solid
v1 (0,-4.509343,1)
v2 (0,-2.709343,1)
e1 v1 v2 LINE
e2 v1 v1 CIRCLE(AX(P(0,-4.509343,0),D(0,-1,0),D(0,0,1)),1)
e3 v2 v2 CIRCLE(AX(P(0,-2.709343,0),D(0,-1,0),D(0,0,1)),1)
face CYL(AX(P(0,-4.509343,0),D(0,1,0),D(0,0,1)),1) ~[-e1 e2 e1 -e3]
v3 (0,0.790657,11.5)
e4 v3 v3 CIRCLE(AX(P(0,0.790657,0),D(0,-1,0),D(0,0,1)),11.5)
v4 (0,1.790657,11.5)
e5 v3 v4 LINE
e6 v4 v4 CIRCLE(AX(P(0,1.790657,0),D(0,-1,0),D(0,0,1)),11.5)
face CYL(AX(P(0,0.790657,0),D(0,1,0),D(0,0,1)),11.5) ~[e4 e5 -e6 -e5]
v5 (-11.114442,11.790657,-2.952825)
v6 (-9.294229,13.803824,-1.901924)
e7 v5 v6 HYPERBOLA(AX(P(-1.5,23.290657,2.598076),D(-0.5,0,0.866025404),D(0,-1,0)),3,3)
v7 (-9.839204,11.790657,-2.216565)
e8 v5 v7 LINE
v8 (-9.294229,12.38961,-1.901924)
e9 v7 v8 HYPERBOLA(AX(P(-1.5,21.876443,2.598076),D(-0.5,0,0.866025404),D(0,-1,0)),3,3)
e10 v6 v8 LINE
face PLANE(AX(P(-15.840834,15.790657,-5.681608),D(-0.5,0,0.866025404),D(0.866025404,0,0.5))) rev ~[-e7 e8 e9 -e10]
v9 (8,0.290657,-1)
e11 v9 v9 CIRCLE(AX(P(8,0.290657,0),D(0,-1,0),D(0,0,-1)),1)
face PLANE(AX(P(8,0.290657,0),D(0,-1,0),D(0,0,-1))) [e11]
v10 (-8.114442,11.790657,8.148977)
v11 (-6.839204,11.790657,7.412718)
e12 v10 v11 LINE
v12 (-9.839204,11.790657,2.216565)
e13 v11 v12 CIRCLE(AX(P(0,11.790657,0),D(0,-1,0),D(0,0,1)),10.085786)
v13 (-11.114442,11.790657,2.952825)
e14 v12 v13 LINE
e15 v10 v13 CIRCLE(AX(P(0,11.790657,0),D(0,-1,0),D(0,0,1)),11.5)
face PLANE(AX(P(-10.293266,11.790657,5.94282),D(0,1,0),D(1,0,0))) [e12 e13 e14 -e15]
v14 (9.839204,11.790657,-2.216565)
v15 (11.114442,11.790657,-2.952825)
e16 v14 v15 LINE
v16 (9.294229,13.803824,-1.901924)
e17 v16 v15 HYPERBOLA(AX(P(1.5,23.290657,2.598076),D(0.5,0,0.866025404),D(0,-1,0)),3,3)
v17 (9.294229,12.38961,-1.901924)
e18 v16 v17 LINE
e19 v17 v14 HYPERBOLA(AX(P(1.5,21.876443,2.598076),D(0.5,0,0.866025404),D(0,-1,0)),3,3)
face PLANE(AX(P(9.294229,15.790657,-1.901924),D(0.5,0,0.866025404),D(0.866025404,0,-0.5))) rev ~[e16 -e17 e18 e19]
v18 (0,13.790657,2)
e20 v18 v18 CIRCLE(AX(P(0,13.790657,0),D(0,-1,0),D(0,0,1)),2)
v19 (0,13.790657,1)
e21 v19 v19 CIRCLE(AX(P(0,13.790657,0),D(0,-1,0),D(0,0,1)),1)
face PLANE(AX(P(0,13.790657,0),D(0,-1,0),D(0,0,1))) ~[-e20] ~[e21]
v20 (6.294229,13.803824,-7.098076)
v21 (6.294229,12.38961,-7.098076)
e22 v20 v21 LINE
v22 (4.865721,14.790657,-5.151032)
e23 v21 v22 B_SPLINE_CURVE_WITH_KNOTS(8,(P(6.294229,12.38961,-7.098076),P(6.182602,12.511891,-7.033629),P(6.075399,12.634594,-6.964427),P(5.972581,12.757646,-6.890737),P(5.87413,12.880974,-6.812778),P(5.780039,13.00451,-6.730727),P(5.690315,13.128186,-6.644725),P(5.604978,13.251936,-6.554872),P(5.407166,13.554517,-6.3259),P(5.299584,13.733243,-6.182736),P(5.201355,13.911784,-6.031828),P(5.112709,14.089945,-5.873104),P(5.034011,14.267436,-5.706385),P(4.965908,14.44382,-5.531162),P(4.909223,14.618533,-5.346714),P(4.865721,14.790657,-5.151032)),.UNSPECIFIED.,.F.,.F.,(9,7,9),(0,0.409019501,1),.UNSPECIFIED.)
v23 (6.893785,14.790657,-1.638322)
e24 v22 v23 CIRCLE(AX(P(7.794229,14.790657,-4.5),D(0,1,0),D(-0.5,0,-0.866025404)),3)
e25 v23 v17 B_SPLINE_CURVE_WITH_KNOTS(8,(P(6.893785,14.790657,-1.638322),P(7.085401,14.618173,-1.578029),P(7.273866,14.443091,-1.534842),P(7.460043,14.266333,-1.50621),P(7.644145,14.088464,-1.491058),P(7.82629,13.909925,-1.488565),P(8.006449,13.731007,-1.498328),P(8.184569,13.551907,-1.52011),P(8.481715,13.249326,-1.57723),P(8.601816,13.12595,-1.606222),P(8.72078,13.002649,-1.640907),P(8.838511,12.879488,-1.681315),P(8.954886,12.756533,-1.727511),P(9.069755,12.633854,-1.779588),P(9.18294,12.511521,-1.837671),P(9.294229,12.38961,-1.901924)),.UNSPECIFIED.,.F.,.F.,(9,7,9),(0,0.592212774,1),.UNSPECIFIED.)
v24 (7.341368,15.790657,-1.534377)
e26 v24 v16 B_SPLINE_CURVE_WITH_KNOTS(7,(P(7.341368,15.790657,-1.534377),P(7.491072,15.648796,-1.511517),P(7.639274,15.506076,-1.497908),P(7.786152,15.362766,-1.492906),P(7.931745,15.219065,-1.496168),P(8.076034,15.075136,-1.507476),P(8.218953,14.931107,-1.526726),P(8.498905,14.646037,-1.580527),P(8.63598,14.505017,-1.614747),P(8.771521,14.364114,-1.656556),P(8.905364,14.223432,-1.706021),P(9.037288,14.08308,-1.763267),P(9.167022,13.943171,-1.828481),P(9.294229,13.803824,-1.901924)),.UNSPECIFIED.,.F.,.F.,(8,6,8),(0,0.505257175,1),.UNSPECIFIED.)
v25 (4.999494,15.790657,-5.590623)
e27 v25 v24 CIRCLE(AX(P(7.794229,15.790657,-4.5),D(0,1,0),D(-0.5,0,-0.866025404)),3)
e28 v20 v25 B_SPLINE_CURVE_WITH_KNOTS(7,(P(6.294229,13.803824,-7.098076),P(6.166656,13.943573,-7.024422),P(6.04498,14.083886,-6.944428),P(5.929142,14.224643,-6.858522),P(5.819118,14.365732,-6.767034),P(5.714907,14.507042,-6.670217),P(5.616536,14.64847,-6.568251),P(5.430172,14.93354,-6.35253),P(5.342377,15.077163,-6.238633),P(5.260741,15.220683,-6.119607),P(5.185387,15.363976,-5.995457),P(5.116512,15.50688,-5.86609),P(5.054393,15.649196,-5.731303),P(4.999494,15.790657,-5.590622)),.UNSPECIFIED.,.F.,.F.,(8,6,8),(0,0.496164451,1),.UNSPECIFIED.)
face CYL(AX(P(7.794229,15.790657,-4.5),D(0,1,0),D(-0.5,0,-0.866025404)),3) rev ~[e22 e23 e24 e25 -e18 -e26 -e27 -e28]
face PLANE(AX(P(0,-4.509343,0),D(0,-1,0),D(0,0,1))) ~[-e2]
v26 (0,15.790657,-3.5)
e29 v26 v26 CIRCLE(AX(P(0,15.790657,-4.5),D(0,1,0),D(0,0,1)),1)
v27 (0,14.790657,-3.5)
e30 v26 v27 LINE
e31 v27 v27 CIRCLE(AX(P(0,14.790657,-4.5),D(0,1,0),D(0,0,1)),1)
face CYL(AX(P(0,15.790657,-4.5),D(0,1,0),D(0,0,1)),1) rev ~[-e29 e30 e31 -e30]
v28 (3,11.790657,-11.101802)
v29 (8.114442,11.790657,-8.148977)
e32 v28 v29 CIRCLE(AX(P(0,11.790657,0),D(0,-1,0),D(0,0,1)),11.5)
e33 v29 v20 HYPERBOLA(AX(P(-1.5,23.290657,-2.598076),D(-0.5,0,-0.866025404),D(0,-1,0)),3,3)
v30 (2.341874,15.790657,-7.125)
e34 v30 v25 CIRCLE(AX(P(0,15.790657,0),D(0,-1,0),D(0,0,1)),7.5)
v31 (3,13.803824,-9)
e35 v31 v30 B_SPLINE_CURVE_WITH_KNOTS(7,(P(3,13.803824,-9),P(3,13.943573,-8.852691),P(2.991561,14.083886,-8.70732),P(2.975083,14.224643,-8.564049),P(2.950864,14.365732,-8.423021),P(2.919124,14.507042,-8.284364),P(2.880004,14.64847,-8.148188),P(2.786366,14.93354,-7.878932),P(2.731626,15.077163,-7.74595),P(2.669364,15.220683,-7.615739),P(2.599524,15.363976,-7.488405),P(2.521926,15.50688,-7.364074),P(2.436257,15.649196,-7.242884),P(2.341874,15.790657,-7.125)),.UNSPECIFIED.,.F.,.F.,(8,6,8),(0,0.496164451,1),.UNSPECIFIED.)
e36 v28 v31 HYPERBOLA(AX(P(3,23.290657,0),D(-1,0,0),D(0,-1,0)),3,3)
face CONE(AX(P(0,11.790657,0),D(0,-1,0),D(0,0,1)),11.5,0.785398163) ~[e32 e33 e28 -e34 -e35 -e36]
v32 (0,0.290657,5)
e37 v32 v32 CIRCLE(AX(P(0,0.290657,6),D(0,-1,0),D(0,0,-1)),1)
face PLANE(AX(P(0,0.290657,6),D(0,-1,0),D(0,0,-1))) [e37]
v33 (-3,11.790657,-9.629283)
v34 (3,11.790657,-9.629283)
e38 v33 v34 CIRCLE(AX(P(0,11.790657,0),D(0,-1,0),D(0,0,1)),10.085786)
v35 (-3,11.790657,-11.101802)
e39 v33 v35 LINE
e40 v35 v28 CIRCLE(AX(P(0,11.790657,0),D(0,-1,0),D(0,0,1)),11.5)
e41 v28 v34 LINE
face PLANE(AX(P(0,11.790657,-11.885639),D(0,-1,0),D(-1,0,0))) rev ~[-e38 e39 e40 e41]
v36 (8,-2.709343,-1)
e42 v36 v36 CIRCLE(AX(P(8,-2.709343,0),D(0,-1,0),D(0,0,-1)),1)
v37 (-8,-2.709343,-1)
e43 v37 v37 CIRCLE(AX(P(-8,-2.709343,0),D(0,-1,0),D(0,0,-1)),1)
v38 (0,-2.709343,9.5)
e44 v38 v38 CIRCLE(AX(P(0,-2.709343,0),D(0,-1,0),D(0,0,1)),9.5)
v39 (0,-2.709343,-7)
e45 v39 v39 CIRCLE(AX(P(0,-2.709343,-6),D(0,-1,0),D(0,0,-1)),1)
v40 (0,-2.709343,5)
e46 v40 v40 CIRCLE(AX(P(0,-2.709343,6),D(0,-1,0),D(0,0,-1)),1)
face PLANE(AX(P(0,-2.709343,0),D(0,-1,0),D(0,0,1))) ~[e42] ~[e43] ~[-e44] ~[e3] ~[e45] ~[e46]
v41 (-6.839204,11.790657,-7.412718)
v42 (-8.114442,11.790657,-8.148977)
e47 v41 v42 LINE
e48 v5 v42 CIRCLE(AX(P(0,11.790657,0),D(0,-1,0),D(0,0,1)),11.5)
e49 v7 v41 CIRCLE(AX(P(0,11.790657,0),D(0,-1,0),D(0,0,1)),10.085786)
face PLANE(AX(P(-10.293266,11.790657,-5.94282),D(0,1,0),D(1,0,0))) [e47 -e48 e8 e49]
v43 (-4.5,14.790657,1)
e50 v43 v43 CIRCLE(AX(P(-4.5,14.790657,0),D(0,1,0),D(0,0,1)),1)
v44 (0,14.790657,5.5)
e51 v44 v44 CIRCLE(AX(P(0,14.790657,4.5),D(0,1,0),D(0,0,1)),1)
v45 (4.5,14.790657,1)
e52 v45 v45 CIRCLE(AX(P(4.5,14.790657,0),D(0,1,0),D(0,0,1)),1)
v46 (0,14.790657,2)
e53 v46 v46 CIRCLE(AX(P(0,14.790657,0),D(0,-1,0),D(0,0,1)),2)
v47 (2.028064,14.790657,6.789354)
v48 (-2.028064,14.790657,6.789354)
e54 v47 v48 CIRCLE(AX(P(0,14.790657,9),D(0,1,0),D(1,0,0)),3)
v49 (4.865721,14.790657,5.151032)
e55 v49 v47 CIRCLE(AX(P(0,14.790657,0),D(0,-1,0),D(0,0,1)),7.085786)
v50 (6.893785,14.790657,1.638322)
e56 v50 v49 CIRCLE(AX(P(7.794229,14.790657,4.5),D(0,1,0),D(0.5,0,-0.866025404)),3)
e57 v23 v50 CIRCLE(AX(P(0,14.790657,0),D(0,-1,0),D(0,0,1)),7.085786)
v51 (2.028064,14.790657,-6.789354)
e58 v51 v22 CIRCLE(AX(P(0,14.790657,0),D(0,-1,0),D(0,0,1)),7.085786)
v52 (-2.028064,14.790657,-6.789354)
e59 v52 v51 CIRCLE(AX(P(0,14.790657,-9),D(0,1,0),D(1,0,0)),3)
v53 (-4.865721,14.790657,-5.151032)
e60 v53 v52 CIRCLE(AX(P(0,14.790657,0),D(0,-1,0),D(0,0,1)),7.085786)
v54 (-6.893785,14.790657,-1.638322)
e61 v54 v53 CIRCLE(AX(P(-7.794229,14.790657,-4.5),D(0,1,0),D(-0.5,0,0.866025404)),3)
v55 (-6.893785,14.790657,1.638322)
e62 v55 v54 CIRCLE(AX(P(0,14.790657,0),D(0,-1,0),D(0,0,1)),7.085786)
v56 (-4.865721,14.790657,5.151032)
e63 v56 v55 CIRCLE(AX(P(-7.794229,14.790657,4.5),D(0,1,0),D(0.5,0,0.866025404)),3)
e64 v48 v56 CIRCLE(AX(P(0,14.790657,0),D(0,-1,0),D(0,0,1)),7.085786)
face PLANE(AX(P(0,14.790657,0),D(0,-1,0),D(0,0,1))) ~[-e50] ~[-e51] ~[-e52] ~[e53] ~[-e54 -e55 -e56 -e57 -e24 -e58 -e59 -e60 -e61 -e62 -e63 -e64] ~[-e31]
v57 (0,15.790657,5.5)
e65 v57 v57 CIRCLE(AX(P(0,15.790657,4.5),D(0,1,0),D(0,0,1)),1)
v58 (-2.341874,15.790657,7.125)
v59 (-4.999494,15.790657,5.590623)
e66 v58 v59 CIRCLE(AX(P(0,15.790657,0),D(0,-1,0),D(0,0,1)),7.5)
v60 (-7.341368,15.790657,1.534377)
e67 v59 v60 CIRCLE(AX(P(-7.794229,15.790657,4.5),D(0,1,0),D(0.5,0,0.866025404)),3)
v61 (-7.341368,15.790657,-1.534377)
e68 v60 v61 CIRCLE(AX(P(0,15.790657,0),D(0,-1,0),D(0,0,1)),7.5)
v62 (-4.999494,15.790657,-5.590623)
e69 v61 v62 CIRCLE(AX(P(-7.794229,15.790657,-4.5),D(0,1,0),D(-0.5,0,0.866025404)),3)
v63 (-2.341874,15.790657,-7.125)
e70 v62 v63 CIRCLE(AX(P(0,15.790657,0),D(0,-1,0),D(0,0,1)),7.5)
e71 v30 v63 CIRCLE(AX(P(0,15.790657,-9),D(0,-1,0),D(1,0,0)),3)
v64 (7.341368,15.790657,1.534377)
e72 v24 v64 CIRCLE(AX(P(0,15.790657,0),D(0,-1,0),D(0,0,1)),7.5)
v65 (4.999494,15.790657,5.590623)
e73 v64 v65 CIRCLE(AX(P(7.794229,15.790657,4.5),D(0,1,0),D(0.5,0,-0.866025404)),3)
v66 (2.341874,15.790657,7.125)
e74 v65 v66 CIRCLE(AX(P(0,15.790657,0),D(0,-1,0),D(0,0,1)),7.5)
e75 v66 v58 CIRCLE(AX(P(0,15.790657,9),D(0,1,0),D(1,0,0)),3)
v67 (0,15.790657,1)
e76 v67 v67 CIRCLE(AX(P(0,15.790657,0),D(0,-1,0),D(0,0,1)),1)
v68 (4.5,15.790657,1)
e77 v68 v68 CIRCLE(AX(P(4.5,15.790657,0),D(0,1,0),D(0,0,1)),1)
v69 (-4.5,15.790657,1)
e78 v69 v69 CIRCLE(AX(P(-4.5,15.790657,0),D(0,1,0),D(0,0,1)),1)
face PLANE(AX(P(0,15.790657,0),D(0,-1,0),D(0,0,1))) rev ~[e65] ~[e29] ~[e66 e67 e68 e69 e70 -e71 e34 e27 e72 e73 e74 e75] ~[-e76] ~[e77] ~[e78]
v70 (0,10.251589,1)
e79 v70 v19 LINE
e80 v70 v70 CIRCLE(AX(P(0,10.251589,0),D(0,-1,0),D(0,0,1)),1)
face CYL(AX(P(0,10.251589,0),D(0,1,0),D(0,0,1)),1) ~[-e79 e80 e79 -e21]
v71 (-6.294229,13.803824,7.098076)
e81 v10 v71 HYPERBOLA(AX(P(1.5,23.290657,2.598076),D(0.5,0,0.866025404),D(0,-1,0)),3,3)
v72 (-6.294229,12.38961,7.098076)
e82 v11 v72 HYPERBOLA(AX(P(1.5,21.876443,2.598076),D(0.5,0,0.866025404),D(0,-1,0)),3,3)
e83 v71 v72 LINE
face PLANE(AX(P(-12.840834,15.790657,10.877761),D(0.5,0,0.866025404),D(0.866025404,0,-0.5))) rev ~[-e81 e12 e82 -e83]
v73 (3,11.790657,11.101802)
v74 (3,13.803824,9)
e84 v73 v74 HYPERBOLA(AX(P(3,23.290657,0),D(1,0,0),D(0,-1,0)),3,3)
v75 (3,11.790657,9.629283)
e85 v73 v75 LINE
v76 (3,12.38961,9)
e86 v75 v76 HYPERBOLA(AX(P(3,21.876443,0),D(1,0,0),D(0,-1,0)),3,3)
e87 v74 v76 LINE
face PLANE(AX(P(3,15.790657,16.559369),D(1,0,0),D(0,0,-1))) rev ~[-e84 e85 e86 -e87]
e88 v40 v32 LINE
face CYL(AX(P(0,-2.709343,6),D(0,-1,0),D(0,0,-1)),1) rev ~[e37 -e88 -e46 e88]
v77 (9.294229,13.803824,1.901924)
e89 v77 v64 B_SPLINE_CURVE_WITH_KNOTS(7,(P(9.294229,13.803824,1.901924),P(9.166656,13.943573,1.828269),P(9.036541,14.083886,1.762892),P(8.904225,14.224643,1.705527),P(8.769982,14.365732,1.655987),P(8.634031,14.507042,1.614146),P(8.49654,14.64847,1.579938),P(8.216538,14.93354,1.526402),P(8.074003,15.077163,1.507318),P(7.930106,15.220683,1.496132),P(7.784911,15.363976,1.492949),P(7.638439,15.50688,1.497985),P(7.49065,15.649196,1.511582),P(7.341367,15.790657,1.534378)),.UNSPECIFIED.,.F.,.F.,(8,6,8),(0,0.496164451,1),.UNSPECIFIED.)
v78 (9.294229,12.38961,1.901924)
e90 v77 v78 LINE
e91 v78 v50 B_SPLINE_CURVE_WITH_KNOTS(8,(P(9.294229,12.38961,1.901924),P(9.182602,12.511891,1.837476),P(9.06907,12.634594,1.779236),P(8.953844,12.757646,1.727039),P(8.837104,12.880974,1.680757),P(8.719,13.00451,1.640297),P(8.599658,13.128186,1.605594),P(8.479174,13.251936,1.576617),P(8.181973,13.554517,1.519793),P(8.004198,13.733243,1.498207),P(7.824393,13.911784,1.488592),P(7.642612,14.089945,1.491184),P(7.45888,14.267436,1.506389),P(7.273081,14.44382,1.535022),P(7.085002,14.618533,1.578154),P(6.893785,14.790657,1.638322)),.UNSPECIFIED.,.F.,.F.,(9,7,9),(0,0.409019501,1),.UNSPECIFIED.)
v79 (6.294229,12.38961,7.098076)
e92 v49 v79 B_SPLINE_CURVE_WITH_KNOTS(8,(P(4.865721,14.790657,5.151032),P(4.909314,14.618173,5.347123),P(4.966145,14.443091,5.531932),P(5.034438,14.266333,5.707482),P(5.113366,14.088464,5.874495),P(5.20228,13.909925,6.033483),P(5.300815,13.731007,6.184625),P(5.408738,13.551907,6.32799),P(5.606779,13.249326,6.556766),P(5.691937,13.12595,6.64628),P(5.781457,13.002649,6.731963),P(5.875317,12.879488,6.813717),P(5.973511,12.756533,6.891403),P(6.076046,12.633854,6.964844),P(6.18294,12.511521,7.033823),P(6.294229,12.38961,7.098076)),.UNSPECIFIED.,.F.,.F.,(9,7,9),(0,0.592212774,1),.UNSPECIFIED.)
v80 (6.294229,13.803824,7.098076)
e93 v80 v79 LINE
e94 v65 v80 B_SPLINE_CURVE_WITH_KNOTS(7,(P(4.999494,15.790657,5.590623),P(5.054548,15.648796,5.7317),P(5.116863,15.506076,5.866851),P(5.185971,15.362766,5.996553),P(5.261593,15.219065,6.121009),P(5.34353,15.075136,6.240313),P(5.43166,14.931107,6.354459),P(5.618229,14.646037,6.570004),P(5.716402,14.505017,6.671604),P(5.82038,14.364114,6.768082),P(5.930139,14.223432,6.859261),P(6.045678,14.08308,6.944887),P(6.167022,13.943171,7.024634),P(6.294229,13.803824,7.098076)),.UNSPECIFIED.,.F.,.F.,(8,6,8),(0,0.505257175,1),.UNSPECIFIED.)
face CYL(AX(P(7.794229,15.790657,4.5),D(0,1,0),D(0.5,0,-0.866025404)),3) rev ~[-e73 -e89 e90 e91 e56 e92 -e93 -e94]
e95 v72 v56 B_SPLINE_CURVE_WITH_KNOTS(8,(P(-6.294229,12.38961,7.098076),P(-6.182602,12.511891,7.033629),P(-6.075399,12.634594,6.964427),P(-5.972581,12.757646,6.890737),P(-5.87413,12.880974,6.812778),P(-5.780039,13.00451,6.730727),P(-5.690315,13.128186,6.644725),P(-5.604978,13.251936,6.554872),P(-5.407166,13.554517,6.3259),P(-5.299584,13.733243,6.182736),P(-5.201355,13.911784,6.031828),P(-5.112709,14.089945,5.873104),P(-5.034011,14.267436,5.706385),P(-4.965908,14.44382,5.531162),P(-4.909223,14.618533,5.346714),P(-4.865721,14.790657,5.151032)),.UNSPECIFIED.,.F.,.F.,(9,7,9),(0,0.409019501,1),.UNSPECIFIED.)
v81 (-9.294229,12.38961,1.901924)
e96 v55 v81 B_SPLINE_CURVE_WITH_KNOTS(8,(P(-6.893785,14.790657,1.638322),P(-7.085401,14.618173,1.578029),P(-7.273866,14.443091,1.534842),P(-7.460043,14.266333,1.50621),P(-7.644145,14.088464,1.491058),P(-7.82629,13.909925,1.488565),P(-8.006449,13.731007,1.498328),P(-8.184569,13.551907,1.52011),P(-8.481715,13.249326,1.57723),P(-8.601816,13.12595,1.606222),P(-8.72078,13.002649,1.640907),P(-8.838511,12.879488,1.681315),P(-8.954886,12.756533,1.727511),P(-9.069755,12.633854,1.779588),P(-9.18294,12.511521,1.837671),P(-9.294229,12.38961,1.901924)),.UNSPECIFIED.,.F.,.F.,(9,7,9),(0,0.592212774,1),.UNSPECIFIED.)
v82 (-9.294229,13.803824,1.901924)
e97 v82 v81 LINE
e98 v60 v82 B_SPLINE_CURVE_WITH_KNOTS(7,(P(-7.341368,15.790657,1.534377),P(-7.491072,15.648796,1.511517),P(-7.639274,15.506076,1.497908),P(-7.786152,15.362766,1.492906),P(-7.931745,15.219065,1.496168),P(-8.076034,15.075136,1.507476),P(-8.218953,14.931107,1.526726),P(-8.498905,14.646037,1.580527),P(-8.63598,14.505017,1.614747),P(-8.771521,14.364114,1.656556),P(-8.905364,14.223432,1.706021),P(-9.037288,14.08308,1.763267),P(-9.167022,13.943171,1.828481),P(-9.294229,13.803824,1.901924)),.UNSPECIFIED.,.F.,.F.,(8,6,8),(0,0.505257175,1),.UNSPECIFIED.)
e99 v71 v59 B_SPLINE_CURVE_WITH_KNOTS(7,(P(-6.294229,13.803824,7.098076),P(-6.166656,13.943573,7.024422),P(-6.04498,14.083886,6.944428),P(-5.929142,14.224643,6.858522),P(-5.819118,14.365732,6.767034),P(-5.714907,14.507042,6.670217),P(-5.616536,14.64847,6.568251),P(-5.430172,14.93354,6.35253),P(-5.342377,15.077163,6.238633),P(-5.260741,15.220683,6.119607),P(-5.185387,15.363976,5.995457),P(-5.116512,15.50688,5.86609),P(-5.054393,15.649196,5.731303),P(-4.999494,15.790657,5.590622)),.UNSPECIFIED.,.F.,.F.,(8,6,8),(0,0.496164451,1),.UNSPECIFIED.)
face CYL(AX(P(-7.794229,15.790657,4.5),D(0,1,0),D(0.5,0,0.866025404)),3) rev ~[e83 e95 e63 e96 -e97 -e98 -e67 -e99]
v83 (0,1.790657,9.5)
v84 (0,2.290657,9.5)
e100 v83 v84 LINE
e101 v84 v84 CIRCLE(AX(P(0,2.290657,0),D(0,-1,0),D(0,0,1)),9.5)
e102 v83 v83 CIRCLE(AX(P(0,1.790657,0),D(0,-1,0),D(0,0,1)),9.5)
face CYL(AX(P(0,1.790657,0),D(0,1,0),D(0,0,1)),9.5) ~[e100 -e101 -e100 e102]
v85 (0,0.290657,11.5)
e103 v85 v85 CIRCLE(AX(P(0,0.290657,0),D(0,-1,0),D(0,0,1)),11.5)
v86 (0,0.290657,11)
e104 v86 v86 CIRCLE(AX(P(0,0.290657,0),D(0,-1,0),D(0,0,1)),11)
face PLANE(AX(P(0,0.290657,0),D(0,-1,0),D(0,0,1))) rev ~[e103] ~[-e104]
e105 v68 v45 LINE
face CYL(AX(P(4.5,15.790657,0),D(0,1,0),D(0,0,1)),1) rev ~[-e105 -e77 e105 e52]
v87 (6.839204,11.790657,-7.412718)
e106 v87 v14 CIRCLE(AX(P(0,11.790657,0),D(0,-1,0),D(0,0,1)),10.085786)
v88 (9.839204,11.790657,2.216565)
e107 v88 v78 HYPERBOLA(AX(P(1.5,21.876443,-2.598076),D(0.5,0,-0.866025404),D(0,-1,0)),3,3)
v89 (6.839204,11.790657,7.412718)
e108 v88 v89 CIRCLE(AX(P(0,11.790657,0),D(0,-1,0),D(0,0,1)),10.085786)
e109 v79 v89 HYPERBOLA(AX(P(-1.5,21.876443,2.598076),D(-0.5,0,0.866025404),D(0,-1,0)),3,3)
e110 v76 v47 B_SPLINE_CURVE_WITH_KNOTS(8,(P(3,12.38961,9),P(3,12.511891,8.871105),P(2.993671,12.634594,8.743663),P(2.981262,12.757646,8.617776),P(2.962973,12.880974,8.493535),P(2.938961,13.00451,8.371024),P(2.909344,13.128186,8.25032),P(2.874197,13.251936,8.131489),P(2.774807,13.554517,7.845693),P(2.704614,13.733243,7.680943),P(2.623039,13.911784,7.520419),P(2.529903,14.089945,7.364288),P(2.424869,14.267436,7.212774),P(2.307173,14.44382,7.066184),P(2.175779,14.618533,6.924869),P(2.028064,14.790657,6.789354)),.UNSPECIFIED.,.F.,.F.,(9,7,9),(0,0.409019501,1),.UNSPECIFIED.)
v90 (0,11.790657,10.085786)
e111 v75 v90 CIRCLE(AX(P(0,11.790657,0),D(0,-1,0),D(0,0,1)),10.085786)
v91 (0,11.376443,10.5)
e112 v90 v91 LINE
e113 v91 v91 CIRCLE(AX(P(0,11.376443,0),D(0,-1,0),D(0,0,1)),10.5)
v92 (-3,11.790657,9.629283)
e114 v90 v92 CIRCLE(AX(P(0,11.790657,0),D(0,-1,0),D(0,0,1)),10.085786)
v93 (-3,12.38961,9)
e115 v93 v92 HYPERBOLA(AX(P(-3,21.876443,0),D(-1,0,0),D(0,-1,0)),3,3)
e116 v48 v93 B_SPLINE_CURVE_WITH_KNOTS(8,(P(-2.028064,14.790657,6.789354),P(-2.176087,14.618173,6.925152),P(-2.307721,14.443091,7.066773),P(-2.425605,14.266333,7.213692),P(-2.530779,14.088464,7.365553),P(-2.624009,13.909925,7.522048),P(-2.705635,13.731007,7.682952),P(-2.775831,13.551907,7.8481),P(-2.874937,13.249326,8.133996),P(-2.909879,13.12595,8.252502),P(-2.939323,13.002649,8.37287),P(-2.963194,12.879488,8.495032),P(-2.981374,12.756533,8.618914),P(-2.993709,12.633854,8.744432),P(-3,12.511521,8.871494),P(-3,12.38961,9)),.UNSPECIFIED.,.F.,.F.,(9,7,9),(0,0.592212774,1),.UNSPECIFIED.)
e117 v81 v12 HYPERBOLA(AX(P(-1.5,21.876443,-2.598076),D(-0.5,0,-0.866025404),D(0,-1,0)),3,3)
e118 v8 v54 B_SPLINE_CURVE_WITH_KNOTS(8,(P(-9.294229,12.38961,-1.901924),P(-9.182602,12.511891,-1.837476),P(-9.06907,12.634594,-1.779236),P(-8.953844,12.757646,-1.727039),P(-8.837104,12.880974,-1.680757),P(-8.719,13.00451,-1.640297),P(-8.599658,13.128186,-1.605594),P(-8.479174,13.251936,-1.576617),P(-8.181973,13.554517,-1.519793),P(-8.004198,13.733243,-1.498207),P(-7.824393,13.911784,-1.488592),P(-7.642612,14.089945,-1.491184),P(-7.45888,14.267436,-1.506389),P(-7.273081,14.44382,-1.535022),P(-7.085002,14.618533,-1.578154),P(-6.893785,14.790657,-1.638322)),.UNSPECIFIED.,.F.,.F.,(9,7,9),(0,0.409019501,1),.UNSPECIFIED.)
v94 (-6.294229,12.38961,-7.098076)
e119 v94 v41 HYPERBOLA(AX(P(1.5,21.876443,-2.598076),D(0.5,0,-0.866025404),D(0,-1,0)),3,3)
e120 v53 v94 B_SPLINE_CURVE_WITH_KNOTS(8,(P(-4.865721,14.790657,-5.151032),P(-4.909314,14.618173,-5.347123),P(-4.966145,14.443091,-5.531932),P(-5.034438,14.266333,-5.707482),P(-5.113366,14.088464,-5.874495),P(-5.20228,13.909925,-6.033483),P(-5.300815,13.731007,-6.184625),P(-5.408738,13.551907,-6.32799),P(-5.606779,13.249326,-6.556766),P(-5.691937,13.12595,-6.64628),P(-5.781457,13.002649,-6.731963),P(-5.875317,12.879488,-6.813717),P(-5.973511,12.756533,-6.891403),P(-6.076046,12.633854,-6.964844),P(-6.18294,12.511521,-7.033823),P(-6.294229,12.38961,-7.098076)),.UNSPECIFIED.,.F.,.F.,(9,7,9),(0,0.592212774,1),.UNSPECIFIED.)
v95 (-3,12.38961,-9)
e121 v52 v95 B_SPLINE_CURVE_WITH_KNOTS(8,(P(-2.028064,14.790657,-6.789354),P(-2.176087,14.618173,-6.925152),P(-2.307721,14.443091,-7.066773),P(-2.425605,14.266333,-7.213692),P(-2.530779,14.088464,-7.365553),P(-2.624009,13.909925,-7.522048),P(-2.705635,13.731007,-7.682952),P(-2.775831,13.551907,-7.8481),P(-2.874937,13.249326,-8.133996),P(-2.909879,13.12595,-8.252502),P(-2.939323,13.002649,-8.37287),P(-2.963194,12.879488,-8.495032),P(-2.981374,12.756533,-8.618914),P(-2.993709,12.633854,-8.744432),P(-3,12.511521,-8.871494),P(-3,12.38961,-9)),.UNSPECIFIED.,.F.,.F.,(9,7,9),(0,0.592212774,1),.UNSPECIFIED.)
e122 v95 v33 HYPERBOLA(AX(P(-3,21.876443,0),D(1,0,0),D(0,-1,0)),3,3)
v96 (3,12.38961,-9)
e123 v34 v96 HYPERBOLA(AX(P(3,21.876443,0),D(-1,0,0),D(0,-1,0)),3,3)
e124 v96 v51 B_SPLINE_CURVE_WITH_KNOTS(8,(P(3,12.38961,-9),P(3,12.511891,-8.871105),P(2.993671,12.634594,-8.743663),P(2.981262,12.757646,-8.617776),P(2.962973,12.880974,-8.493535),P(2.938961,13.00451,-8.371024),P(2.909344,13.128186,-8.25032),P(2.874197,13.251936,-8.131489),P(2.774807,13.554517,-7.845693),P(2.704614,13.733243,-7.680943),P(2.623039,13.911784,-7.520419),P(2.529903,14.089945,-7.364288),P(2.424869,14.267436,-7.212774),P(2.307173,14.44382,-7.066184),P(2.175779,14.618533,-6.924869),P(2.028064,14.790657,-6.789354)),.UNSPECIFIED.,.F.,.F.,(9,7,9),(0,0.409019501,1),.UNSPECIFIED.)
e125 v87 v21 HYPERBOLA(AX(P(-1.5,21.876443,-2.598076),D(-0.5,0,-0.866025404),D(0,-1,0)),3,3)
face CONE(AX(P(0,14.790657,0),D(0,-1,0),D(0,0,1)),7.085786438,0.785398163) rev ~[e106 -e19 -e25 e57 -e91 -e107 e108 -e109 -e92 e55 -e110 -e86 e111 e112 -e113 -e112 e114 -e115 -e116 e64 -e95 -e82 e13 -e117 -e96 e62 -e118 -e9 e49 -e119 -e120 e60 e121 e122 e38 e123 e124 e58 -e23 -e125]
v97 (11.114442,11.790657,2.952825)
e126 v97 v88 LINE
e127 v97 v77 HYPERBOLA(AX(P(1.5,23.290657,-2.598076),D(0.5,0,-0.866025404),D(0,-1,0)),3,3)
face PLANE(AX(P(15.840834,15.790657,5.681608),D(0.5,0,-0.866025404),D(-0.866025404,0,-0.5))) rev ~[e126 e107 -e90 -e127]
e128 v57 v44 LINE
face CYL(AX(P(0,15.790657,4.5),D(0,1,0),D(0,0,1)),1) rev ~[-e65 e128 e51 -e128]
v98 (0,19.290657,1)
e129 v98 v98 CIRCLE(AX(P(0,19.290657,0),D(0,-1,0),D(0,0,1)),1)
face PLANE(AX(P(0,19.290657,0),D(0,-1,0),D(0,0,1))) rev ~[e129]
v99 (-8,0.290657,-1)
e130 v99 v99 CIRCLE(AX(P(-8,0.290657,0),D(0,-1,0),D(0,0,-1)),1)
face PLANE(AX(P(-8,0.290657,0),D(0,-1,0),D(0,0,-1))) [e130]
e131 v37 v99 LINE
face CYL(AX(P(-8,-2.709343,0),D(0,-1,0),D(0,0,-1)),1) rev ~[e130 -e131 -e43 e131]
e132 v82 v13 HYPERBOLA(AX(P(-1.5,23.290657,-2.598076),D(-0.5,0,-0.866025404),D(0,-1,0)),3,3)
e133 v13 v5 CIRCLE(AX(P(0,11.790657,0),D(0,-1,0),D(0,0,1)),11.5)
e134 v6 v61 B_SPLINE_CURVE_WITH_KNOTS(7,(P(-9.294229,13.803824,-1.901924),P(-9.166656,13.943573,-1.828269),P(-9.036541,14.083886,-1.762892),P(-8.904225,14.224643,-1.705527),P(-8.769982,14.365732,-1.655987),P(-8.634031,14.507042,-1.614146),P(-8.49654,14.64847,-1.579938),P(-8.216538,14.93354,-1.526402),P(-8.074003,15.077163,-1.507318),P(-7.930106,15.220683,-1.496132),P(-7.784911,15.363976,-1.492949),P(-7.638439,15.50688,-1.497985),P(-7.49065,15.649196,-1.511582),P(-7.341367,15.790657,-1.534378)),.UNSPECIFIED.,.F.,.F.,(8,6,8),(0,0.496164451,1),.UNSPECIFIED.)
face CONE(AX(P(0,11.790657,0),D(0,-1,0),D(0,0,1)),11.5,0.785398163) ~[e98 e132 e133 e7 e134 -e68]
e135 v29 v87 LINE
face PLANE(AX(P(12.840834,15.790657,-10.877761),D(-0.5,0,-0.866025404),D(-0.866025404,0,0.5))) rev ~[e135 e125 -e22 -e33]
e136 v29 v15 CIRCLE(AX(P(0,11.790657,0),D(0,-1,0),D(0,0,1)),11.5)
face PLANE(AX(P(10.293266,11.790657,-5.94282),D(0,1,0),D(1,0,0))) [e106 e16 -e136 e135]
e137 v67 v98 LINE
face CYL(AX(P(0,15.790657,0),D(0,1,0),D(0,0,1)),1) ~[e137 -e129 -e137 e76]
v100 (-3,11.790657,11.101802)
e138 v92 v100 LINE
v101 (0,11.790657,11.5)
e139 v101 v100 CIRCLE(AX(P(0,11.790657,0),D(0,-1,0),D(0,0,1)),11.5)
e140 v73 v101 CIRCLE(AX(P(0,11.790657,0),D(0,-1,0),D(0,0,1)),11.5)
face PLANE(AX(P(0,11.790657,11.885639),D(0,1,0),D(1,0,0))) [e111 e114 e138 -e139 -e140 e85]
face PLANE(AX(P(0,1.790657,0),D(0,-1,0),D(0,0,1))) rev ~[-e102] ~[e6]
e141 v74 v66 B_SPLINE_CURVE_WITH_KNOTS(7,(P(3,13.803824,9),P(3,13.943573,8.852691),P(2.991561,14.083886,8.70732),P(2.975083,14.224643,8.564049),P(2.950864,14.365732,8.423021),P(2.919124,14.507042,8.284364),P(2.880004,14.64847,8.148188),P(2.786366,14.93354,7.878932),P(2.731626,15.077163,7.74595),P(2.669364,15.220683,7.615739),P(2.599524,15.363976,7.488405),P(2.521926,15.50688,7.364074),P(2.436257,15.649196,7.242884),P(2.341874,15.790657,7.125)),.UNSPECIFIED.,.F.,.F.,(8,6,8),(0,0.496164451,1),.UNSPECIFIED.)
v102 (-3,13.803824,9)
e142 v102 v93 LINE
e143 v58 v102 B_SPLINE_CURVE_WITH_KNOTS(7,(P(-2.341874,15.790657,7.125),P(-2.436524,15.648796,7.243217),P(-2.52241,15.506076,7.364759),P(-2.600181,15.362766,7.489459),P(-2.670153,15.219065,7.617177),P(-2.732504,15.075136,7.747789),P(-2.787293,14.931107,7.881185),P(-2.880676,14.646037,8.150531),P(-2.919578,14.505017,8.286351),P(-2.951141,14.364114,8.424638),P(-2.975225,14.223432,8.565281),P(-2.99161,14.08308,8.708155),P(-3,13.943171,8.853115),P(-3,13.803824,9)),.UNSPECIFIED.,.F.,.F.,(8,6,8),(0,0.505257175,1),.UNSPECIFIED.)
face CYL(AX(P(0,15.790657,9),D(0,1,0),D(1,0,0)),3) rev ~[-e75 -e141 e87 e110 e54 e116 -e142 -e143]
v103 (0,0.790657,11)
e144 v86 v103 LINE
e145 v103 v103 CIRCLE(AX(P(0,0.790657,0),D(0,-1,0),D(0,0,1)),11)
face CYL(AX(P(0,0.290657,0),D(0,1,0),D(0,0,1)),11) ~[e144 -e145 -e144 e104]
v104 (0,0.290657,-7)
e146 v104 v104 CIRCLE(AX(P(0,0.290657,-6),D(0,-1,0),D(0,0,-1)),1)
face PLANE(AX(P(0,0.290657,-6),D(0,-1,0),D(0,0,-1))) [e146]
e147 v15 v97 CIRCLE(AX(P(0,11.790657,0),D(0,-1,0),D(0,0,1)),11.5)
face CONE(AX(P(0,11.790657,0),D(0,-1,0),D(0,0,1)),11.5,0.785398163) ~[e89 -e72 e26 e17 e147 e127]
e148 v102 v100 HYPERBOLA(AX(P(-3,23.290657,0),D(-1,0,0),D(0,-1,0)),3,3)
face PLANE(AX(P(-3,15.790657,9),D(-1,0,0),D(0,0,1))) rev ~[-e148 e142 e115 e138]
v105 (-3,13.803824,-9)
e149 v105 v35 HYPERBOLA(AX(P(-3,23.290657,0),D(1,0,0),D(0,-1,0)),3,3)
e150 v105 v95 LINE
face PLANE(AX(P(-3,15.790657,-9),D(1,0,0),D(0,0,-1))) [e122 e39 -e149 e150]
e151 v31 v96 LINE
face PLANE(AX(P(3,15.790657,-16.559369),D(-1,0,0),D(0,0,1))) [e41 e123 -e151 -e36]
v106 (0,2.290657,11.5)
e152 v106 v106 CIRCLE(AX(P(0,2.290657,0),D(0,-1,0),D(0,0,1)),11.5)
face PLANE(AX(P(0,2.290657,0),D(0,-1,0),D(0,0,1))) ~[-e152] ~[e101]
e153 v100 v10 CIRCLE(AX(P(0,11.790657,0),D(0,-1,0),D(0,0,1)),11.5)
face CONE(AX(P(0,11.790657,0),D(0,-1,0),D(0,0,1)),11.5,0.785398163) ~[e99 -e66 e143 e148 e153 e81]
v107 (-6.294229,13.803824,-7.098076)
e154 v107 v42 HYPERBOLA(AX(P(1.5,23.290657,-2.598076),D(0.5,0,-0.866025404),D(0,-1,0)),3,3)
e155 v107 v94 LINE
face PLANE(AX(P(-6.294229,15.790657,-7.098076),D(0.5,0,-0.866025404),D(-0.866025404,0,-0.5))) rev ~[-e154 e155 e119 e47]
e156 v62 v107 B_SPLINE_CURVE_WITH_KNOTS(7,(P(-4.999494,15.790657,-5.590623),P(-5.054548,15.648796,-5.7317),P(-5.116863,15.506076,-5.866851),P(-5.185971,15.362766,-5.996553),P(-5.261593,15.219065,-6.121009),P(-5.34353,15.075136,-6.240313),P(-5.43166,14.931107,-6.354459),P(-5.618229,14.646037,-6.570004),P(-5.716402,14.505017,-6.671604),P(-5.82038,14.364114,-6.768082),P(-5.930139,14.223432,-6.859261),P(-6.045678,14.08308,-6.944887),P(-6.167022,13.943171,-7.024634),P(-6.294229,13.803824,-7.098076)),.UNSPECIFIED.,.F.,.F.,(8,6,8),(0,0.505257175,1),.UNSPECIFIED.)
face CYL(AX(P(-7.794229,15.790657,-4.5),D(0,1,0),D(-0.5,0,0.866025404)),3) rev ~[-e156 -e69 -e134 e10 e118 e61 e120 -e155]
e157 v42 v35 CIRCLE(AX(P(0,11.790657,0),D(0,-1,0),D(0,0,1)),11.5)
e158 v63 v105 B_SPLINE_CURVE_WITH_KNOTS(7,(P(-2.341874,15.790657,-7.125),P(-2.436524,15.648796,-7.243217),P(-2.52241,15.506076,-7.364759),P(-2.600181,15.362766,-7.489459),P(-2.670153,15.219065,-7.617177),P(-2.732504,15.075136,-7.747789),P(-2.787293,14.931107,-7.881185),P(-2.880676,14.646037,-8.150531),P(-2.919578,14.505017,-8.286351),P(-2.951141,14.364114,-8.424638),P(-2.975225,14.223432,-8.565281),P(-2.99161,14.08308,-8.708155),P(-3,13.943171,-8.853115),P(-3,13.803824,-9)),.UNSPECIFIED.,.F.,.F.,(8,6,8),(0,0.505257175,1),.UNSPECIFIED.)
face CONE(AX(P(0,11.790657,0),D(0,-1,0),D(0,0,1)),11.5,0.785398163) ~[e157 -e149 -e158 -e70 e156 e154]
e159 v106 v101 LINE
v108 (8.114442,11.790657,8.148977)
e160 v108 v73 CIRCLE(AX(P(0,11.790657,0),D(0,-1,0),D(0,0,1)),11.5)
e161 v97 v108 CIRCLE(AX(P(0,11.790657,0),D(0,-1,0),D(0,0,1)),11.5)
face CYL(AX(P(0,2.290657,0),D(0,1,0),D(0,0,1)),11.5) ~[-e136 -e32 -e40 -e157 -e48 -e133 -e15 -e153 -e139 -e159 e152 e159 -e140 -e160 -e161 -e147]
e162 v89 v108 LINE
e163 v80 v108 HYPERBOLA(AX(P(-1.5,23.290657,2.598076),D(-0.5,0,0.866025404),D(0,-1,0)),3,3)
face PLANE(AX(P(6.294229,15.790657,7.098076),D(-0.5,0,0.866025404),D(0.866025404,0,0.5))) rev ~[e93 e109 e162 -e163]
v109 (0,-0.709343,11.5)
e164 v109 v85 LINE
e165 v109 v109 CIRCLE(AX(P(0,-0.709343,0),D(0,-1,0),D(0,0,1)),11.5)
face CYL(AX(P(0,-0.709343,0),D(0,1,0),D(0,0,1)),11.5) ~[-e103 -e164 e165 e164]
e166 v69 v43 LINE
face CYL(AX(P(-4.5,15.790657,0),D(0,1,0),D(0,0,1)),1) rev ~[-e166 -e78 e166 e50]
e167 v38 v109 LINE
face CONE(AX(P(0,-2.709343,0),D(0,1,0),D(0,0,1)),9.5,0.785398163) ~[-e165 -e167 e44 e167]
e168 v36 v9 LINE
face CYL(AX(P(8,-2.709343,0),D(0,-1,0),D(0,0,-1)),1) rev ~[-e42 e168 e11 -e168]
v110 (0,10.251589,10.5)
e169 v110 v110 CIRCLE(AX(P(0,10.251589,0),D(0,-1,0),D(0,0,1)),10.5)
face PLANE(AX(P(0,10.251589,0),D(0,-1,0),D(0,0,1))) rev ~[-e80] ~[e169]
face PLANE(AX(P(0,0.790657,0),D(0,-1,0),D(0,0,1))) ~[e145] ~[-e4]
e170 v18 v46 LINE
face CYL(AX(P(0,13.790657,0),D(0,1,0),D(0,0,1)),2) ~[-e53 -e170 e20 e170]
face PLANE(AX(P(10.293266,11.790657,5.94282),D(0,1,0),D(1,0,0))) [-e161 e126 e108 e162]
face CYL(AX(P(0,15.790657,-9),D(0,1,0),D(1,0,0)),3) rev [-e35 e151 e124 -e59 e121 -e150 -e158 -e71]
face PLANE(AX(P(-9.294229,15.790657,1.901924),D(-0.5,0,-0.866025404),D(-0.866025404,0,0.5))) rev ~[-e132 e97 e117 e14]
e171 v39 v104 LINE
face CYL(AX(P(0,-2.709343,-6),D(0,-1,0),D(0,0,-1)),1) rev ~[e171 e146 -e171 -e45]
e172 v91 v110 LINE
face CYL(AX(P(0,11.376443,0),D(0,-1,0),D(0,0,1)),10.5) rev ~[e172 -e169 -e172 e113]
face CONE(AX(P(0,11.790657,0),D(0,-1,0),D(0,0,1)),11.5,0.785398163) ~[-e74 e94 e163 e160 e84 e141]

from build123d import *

# Parameters (mm, degrees)
SKETCH_2_R          = 1
CUT_EXTRUDE_1_DEPTH = 4
SKETCH_3_R          = 1
CUT_EXTRUDE_2_DEPTH = 3


with BuildPart() as part:
    # 草图1 → 旋转1 (revolve)
    with BuildSketch(Plane.XY, mode=Mode.PRIVATE) as revolve_1_sk:
        Polygon((0, 19.290656643), (0, 0), (0, -4.509343357), (1, -4.509343357), (1, -2.709343357), (9.5, -2.709343357), (11.5, -0.709343357), (11.5, 0.290656643), (11, 0.290656643), (11, 0.790656643), (11.5, 0.790656643), (11.5, 1.790656643), (9.5, 1.790656643), (9.5, 2.290656643), (11.5, 2.290656643), (11.5, 11.790656643), (7.5, 15.790656643), (1, 15.790656643), (1, 19.290656643), align=None)
        Polygon((2, 14.790656643), (7.085786438, 14.790656643), (10.5, 11.376443081), (10.5, 10.251588649), (1, 10.251588649), (1, 13.790656643), (2, 13.790656643), align=None, mode=Mode.SUBTRACT)
    revolve(revolve_1_sk.sketch.rotate(Axis((0, 19.290656643, 0), (0, -1, 0)), 90), axis=Axis((0, 19.290656643, 0), (0, -1, 0)))

    # 草图2 → 切除-拉伸1 (cut)
    with BuildSketch(Plane(origin=(0, 15.790656643, 0), x_dir=(1, 0, 0), z_dir=(0, 1, 0))):
        with Locations(Location((0, -4.5, 0), (0, 0, 270))):
            Circle(SKETCH_2_R)
        with Locations(Location((-4.5, 0, 0), (0, 0, 270))):
            Circle(SKETCH_2_R)
        with Locations(Location((0, 4.5, 0), (0, 0, 270))):
            Circle(SKETCH_2_R)
        with Locations(Location((4.5, 0, 0), (0, 0, 270))):
            Circle(SKETCH_2_R)
        with BuildLine():
            Line((-3, 9), (-3, 16.559368986))
            Line((-3, 16.559368986), (3, 16.559368986))
            Line((3, 16.559368986), (3, 9))
            ThreePointArc((3, 9), (0, 6), (-3, 9))
        make_face()
        with BuildLine():
            Line((15.840834213, 5.681608282), (12.840834213, 10.877760704))
            Line((12.840834213, 10.877760704), (6.294228634, 7.098076211))
            ThreePointArc((6.294228634, 7.098076211), (5.196152423, 3), (9.294228634, 1.901923789))
            Line((9.294228634, 1.901923789), (15.840834213, 5.681608282))
        make_face()
        with BuildLine():
            Line((12.840834213, -10.877760704), (15.840834213, -5.681608282))
            Line((15.840834213, -5.681608282), (9.294228634, -1.901923789))
            ThreePointArc((9.294228634, -1.901923789), (5.196152423, -3), (6.294228634, -7.098076211))
            Line((6.294228634, -7.098076211), (12.840834213, -10.877760704))
        make_face()
        with BuildLine():
            Line((-3, -16.559368986), (3, -16.559368986))
            Line((3, -16.559368986), (3, -9))
            ThreePointArc((3, -9), (0, -6), (-3, -9))
            Line((-3, -9), (-3, -16.559368986))
        make_face()
        with BuildLine():
            Line((-15.840834213, -5.681608282), (-12.840834213, -10.877760704))
            Line((-12.840834213, -10.877760704), (-6.294228634, -7.098076211))
            ThreePointArc((-6.294228634, -7.098076211), (-5.196152423, -3), (-9.294228634, -1.901923789))
            Line((-9.294228634, -1.901923789), (-15.840834213, -5.681608282))
        make_face()
        with BuildLine():
            Line((-12.840834213, 10.877760704), (-15.840834213, 5.681608282))
            Line((-15.840834213, 5.681608282), (-9.294228634, 1.901923789))
            ThreePointArc((-9.294228634, 1.901923789), (-5.196152423, 3), (-6.294228634, 7.098076211))
            Line((-6.294228634, 7.098076211), (-12.840834213, 10.877760704))
        make_face()
    extrude(amount=-CUT_EXTRUDE_1_DEPTH, mode=Mode.SUBTRACT)

    # 草图3 → 切除-拉伸2 (cut)
    with BuildSketch(Plane.XZ.offset(2.709343357)):
        with Locations(Location((0, 6, 0), (0, 0, 270))):
            Circle(SKETCH_3_R)
        with Locations(Location((0, -6, 0), (0, 0, 270))):
            Circle(SKETCH_3_R)
        with Locations(Location((-8, 0, 0), (0, 0, 270))):
            Circle(SKETCH_3_R)
        with Locations(Location((8, 0, 0), (0, 0, 270))):
            Circle(SKETCH_3_R)
    extrude(amount=-CUT_EXTRUDE_2_DEPTH, mode=Mode.SUBTRACT)


solid = part.part
